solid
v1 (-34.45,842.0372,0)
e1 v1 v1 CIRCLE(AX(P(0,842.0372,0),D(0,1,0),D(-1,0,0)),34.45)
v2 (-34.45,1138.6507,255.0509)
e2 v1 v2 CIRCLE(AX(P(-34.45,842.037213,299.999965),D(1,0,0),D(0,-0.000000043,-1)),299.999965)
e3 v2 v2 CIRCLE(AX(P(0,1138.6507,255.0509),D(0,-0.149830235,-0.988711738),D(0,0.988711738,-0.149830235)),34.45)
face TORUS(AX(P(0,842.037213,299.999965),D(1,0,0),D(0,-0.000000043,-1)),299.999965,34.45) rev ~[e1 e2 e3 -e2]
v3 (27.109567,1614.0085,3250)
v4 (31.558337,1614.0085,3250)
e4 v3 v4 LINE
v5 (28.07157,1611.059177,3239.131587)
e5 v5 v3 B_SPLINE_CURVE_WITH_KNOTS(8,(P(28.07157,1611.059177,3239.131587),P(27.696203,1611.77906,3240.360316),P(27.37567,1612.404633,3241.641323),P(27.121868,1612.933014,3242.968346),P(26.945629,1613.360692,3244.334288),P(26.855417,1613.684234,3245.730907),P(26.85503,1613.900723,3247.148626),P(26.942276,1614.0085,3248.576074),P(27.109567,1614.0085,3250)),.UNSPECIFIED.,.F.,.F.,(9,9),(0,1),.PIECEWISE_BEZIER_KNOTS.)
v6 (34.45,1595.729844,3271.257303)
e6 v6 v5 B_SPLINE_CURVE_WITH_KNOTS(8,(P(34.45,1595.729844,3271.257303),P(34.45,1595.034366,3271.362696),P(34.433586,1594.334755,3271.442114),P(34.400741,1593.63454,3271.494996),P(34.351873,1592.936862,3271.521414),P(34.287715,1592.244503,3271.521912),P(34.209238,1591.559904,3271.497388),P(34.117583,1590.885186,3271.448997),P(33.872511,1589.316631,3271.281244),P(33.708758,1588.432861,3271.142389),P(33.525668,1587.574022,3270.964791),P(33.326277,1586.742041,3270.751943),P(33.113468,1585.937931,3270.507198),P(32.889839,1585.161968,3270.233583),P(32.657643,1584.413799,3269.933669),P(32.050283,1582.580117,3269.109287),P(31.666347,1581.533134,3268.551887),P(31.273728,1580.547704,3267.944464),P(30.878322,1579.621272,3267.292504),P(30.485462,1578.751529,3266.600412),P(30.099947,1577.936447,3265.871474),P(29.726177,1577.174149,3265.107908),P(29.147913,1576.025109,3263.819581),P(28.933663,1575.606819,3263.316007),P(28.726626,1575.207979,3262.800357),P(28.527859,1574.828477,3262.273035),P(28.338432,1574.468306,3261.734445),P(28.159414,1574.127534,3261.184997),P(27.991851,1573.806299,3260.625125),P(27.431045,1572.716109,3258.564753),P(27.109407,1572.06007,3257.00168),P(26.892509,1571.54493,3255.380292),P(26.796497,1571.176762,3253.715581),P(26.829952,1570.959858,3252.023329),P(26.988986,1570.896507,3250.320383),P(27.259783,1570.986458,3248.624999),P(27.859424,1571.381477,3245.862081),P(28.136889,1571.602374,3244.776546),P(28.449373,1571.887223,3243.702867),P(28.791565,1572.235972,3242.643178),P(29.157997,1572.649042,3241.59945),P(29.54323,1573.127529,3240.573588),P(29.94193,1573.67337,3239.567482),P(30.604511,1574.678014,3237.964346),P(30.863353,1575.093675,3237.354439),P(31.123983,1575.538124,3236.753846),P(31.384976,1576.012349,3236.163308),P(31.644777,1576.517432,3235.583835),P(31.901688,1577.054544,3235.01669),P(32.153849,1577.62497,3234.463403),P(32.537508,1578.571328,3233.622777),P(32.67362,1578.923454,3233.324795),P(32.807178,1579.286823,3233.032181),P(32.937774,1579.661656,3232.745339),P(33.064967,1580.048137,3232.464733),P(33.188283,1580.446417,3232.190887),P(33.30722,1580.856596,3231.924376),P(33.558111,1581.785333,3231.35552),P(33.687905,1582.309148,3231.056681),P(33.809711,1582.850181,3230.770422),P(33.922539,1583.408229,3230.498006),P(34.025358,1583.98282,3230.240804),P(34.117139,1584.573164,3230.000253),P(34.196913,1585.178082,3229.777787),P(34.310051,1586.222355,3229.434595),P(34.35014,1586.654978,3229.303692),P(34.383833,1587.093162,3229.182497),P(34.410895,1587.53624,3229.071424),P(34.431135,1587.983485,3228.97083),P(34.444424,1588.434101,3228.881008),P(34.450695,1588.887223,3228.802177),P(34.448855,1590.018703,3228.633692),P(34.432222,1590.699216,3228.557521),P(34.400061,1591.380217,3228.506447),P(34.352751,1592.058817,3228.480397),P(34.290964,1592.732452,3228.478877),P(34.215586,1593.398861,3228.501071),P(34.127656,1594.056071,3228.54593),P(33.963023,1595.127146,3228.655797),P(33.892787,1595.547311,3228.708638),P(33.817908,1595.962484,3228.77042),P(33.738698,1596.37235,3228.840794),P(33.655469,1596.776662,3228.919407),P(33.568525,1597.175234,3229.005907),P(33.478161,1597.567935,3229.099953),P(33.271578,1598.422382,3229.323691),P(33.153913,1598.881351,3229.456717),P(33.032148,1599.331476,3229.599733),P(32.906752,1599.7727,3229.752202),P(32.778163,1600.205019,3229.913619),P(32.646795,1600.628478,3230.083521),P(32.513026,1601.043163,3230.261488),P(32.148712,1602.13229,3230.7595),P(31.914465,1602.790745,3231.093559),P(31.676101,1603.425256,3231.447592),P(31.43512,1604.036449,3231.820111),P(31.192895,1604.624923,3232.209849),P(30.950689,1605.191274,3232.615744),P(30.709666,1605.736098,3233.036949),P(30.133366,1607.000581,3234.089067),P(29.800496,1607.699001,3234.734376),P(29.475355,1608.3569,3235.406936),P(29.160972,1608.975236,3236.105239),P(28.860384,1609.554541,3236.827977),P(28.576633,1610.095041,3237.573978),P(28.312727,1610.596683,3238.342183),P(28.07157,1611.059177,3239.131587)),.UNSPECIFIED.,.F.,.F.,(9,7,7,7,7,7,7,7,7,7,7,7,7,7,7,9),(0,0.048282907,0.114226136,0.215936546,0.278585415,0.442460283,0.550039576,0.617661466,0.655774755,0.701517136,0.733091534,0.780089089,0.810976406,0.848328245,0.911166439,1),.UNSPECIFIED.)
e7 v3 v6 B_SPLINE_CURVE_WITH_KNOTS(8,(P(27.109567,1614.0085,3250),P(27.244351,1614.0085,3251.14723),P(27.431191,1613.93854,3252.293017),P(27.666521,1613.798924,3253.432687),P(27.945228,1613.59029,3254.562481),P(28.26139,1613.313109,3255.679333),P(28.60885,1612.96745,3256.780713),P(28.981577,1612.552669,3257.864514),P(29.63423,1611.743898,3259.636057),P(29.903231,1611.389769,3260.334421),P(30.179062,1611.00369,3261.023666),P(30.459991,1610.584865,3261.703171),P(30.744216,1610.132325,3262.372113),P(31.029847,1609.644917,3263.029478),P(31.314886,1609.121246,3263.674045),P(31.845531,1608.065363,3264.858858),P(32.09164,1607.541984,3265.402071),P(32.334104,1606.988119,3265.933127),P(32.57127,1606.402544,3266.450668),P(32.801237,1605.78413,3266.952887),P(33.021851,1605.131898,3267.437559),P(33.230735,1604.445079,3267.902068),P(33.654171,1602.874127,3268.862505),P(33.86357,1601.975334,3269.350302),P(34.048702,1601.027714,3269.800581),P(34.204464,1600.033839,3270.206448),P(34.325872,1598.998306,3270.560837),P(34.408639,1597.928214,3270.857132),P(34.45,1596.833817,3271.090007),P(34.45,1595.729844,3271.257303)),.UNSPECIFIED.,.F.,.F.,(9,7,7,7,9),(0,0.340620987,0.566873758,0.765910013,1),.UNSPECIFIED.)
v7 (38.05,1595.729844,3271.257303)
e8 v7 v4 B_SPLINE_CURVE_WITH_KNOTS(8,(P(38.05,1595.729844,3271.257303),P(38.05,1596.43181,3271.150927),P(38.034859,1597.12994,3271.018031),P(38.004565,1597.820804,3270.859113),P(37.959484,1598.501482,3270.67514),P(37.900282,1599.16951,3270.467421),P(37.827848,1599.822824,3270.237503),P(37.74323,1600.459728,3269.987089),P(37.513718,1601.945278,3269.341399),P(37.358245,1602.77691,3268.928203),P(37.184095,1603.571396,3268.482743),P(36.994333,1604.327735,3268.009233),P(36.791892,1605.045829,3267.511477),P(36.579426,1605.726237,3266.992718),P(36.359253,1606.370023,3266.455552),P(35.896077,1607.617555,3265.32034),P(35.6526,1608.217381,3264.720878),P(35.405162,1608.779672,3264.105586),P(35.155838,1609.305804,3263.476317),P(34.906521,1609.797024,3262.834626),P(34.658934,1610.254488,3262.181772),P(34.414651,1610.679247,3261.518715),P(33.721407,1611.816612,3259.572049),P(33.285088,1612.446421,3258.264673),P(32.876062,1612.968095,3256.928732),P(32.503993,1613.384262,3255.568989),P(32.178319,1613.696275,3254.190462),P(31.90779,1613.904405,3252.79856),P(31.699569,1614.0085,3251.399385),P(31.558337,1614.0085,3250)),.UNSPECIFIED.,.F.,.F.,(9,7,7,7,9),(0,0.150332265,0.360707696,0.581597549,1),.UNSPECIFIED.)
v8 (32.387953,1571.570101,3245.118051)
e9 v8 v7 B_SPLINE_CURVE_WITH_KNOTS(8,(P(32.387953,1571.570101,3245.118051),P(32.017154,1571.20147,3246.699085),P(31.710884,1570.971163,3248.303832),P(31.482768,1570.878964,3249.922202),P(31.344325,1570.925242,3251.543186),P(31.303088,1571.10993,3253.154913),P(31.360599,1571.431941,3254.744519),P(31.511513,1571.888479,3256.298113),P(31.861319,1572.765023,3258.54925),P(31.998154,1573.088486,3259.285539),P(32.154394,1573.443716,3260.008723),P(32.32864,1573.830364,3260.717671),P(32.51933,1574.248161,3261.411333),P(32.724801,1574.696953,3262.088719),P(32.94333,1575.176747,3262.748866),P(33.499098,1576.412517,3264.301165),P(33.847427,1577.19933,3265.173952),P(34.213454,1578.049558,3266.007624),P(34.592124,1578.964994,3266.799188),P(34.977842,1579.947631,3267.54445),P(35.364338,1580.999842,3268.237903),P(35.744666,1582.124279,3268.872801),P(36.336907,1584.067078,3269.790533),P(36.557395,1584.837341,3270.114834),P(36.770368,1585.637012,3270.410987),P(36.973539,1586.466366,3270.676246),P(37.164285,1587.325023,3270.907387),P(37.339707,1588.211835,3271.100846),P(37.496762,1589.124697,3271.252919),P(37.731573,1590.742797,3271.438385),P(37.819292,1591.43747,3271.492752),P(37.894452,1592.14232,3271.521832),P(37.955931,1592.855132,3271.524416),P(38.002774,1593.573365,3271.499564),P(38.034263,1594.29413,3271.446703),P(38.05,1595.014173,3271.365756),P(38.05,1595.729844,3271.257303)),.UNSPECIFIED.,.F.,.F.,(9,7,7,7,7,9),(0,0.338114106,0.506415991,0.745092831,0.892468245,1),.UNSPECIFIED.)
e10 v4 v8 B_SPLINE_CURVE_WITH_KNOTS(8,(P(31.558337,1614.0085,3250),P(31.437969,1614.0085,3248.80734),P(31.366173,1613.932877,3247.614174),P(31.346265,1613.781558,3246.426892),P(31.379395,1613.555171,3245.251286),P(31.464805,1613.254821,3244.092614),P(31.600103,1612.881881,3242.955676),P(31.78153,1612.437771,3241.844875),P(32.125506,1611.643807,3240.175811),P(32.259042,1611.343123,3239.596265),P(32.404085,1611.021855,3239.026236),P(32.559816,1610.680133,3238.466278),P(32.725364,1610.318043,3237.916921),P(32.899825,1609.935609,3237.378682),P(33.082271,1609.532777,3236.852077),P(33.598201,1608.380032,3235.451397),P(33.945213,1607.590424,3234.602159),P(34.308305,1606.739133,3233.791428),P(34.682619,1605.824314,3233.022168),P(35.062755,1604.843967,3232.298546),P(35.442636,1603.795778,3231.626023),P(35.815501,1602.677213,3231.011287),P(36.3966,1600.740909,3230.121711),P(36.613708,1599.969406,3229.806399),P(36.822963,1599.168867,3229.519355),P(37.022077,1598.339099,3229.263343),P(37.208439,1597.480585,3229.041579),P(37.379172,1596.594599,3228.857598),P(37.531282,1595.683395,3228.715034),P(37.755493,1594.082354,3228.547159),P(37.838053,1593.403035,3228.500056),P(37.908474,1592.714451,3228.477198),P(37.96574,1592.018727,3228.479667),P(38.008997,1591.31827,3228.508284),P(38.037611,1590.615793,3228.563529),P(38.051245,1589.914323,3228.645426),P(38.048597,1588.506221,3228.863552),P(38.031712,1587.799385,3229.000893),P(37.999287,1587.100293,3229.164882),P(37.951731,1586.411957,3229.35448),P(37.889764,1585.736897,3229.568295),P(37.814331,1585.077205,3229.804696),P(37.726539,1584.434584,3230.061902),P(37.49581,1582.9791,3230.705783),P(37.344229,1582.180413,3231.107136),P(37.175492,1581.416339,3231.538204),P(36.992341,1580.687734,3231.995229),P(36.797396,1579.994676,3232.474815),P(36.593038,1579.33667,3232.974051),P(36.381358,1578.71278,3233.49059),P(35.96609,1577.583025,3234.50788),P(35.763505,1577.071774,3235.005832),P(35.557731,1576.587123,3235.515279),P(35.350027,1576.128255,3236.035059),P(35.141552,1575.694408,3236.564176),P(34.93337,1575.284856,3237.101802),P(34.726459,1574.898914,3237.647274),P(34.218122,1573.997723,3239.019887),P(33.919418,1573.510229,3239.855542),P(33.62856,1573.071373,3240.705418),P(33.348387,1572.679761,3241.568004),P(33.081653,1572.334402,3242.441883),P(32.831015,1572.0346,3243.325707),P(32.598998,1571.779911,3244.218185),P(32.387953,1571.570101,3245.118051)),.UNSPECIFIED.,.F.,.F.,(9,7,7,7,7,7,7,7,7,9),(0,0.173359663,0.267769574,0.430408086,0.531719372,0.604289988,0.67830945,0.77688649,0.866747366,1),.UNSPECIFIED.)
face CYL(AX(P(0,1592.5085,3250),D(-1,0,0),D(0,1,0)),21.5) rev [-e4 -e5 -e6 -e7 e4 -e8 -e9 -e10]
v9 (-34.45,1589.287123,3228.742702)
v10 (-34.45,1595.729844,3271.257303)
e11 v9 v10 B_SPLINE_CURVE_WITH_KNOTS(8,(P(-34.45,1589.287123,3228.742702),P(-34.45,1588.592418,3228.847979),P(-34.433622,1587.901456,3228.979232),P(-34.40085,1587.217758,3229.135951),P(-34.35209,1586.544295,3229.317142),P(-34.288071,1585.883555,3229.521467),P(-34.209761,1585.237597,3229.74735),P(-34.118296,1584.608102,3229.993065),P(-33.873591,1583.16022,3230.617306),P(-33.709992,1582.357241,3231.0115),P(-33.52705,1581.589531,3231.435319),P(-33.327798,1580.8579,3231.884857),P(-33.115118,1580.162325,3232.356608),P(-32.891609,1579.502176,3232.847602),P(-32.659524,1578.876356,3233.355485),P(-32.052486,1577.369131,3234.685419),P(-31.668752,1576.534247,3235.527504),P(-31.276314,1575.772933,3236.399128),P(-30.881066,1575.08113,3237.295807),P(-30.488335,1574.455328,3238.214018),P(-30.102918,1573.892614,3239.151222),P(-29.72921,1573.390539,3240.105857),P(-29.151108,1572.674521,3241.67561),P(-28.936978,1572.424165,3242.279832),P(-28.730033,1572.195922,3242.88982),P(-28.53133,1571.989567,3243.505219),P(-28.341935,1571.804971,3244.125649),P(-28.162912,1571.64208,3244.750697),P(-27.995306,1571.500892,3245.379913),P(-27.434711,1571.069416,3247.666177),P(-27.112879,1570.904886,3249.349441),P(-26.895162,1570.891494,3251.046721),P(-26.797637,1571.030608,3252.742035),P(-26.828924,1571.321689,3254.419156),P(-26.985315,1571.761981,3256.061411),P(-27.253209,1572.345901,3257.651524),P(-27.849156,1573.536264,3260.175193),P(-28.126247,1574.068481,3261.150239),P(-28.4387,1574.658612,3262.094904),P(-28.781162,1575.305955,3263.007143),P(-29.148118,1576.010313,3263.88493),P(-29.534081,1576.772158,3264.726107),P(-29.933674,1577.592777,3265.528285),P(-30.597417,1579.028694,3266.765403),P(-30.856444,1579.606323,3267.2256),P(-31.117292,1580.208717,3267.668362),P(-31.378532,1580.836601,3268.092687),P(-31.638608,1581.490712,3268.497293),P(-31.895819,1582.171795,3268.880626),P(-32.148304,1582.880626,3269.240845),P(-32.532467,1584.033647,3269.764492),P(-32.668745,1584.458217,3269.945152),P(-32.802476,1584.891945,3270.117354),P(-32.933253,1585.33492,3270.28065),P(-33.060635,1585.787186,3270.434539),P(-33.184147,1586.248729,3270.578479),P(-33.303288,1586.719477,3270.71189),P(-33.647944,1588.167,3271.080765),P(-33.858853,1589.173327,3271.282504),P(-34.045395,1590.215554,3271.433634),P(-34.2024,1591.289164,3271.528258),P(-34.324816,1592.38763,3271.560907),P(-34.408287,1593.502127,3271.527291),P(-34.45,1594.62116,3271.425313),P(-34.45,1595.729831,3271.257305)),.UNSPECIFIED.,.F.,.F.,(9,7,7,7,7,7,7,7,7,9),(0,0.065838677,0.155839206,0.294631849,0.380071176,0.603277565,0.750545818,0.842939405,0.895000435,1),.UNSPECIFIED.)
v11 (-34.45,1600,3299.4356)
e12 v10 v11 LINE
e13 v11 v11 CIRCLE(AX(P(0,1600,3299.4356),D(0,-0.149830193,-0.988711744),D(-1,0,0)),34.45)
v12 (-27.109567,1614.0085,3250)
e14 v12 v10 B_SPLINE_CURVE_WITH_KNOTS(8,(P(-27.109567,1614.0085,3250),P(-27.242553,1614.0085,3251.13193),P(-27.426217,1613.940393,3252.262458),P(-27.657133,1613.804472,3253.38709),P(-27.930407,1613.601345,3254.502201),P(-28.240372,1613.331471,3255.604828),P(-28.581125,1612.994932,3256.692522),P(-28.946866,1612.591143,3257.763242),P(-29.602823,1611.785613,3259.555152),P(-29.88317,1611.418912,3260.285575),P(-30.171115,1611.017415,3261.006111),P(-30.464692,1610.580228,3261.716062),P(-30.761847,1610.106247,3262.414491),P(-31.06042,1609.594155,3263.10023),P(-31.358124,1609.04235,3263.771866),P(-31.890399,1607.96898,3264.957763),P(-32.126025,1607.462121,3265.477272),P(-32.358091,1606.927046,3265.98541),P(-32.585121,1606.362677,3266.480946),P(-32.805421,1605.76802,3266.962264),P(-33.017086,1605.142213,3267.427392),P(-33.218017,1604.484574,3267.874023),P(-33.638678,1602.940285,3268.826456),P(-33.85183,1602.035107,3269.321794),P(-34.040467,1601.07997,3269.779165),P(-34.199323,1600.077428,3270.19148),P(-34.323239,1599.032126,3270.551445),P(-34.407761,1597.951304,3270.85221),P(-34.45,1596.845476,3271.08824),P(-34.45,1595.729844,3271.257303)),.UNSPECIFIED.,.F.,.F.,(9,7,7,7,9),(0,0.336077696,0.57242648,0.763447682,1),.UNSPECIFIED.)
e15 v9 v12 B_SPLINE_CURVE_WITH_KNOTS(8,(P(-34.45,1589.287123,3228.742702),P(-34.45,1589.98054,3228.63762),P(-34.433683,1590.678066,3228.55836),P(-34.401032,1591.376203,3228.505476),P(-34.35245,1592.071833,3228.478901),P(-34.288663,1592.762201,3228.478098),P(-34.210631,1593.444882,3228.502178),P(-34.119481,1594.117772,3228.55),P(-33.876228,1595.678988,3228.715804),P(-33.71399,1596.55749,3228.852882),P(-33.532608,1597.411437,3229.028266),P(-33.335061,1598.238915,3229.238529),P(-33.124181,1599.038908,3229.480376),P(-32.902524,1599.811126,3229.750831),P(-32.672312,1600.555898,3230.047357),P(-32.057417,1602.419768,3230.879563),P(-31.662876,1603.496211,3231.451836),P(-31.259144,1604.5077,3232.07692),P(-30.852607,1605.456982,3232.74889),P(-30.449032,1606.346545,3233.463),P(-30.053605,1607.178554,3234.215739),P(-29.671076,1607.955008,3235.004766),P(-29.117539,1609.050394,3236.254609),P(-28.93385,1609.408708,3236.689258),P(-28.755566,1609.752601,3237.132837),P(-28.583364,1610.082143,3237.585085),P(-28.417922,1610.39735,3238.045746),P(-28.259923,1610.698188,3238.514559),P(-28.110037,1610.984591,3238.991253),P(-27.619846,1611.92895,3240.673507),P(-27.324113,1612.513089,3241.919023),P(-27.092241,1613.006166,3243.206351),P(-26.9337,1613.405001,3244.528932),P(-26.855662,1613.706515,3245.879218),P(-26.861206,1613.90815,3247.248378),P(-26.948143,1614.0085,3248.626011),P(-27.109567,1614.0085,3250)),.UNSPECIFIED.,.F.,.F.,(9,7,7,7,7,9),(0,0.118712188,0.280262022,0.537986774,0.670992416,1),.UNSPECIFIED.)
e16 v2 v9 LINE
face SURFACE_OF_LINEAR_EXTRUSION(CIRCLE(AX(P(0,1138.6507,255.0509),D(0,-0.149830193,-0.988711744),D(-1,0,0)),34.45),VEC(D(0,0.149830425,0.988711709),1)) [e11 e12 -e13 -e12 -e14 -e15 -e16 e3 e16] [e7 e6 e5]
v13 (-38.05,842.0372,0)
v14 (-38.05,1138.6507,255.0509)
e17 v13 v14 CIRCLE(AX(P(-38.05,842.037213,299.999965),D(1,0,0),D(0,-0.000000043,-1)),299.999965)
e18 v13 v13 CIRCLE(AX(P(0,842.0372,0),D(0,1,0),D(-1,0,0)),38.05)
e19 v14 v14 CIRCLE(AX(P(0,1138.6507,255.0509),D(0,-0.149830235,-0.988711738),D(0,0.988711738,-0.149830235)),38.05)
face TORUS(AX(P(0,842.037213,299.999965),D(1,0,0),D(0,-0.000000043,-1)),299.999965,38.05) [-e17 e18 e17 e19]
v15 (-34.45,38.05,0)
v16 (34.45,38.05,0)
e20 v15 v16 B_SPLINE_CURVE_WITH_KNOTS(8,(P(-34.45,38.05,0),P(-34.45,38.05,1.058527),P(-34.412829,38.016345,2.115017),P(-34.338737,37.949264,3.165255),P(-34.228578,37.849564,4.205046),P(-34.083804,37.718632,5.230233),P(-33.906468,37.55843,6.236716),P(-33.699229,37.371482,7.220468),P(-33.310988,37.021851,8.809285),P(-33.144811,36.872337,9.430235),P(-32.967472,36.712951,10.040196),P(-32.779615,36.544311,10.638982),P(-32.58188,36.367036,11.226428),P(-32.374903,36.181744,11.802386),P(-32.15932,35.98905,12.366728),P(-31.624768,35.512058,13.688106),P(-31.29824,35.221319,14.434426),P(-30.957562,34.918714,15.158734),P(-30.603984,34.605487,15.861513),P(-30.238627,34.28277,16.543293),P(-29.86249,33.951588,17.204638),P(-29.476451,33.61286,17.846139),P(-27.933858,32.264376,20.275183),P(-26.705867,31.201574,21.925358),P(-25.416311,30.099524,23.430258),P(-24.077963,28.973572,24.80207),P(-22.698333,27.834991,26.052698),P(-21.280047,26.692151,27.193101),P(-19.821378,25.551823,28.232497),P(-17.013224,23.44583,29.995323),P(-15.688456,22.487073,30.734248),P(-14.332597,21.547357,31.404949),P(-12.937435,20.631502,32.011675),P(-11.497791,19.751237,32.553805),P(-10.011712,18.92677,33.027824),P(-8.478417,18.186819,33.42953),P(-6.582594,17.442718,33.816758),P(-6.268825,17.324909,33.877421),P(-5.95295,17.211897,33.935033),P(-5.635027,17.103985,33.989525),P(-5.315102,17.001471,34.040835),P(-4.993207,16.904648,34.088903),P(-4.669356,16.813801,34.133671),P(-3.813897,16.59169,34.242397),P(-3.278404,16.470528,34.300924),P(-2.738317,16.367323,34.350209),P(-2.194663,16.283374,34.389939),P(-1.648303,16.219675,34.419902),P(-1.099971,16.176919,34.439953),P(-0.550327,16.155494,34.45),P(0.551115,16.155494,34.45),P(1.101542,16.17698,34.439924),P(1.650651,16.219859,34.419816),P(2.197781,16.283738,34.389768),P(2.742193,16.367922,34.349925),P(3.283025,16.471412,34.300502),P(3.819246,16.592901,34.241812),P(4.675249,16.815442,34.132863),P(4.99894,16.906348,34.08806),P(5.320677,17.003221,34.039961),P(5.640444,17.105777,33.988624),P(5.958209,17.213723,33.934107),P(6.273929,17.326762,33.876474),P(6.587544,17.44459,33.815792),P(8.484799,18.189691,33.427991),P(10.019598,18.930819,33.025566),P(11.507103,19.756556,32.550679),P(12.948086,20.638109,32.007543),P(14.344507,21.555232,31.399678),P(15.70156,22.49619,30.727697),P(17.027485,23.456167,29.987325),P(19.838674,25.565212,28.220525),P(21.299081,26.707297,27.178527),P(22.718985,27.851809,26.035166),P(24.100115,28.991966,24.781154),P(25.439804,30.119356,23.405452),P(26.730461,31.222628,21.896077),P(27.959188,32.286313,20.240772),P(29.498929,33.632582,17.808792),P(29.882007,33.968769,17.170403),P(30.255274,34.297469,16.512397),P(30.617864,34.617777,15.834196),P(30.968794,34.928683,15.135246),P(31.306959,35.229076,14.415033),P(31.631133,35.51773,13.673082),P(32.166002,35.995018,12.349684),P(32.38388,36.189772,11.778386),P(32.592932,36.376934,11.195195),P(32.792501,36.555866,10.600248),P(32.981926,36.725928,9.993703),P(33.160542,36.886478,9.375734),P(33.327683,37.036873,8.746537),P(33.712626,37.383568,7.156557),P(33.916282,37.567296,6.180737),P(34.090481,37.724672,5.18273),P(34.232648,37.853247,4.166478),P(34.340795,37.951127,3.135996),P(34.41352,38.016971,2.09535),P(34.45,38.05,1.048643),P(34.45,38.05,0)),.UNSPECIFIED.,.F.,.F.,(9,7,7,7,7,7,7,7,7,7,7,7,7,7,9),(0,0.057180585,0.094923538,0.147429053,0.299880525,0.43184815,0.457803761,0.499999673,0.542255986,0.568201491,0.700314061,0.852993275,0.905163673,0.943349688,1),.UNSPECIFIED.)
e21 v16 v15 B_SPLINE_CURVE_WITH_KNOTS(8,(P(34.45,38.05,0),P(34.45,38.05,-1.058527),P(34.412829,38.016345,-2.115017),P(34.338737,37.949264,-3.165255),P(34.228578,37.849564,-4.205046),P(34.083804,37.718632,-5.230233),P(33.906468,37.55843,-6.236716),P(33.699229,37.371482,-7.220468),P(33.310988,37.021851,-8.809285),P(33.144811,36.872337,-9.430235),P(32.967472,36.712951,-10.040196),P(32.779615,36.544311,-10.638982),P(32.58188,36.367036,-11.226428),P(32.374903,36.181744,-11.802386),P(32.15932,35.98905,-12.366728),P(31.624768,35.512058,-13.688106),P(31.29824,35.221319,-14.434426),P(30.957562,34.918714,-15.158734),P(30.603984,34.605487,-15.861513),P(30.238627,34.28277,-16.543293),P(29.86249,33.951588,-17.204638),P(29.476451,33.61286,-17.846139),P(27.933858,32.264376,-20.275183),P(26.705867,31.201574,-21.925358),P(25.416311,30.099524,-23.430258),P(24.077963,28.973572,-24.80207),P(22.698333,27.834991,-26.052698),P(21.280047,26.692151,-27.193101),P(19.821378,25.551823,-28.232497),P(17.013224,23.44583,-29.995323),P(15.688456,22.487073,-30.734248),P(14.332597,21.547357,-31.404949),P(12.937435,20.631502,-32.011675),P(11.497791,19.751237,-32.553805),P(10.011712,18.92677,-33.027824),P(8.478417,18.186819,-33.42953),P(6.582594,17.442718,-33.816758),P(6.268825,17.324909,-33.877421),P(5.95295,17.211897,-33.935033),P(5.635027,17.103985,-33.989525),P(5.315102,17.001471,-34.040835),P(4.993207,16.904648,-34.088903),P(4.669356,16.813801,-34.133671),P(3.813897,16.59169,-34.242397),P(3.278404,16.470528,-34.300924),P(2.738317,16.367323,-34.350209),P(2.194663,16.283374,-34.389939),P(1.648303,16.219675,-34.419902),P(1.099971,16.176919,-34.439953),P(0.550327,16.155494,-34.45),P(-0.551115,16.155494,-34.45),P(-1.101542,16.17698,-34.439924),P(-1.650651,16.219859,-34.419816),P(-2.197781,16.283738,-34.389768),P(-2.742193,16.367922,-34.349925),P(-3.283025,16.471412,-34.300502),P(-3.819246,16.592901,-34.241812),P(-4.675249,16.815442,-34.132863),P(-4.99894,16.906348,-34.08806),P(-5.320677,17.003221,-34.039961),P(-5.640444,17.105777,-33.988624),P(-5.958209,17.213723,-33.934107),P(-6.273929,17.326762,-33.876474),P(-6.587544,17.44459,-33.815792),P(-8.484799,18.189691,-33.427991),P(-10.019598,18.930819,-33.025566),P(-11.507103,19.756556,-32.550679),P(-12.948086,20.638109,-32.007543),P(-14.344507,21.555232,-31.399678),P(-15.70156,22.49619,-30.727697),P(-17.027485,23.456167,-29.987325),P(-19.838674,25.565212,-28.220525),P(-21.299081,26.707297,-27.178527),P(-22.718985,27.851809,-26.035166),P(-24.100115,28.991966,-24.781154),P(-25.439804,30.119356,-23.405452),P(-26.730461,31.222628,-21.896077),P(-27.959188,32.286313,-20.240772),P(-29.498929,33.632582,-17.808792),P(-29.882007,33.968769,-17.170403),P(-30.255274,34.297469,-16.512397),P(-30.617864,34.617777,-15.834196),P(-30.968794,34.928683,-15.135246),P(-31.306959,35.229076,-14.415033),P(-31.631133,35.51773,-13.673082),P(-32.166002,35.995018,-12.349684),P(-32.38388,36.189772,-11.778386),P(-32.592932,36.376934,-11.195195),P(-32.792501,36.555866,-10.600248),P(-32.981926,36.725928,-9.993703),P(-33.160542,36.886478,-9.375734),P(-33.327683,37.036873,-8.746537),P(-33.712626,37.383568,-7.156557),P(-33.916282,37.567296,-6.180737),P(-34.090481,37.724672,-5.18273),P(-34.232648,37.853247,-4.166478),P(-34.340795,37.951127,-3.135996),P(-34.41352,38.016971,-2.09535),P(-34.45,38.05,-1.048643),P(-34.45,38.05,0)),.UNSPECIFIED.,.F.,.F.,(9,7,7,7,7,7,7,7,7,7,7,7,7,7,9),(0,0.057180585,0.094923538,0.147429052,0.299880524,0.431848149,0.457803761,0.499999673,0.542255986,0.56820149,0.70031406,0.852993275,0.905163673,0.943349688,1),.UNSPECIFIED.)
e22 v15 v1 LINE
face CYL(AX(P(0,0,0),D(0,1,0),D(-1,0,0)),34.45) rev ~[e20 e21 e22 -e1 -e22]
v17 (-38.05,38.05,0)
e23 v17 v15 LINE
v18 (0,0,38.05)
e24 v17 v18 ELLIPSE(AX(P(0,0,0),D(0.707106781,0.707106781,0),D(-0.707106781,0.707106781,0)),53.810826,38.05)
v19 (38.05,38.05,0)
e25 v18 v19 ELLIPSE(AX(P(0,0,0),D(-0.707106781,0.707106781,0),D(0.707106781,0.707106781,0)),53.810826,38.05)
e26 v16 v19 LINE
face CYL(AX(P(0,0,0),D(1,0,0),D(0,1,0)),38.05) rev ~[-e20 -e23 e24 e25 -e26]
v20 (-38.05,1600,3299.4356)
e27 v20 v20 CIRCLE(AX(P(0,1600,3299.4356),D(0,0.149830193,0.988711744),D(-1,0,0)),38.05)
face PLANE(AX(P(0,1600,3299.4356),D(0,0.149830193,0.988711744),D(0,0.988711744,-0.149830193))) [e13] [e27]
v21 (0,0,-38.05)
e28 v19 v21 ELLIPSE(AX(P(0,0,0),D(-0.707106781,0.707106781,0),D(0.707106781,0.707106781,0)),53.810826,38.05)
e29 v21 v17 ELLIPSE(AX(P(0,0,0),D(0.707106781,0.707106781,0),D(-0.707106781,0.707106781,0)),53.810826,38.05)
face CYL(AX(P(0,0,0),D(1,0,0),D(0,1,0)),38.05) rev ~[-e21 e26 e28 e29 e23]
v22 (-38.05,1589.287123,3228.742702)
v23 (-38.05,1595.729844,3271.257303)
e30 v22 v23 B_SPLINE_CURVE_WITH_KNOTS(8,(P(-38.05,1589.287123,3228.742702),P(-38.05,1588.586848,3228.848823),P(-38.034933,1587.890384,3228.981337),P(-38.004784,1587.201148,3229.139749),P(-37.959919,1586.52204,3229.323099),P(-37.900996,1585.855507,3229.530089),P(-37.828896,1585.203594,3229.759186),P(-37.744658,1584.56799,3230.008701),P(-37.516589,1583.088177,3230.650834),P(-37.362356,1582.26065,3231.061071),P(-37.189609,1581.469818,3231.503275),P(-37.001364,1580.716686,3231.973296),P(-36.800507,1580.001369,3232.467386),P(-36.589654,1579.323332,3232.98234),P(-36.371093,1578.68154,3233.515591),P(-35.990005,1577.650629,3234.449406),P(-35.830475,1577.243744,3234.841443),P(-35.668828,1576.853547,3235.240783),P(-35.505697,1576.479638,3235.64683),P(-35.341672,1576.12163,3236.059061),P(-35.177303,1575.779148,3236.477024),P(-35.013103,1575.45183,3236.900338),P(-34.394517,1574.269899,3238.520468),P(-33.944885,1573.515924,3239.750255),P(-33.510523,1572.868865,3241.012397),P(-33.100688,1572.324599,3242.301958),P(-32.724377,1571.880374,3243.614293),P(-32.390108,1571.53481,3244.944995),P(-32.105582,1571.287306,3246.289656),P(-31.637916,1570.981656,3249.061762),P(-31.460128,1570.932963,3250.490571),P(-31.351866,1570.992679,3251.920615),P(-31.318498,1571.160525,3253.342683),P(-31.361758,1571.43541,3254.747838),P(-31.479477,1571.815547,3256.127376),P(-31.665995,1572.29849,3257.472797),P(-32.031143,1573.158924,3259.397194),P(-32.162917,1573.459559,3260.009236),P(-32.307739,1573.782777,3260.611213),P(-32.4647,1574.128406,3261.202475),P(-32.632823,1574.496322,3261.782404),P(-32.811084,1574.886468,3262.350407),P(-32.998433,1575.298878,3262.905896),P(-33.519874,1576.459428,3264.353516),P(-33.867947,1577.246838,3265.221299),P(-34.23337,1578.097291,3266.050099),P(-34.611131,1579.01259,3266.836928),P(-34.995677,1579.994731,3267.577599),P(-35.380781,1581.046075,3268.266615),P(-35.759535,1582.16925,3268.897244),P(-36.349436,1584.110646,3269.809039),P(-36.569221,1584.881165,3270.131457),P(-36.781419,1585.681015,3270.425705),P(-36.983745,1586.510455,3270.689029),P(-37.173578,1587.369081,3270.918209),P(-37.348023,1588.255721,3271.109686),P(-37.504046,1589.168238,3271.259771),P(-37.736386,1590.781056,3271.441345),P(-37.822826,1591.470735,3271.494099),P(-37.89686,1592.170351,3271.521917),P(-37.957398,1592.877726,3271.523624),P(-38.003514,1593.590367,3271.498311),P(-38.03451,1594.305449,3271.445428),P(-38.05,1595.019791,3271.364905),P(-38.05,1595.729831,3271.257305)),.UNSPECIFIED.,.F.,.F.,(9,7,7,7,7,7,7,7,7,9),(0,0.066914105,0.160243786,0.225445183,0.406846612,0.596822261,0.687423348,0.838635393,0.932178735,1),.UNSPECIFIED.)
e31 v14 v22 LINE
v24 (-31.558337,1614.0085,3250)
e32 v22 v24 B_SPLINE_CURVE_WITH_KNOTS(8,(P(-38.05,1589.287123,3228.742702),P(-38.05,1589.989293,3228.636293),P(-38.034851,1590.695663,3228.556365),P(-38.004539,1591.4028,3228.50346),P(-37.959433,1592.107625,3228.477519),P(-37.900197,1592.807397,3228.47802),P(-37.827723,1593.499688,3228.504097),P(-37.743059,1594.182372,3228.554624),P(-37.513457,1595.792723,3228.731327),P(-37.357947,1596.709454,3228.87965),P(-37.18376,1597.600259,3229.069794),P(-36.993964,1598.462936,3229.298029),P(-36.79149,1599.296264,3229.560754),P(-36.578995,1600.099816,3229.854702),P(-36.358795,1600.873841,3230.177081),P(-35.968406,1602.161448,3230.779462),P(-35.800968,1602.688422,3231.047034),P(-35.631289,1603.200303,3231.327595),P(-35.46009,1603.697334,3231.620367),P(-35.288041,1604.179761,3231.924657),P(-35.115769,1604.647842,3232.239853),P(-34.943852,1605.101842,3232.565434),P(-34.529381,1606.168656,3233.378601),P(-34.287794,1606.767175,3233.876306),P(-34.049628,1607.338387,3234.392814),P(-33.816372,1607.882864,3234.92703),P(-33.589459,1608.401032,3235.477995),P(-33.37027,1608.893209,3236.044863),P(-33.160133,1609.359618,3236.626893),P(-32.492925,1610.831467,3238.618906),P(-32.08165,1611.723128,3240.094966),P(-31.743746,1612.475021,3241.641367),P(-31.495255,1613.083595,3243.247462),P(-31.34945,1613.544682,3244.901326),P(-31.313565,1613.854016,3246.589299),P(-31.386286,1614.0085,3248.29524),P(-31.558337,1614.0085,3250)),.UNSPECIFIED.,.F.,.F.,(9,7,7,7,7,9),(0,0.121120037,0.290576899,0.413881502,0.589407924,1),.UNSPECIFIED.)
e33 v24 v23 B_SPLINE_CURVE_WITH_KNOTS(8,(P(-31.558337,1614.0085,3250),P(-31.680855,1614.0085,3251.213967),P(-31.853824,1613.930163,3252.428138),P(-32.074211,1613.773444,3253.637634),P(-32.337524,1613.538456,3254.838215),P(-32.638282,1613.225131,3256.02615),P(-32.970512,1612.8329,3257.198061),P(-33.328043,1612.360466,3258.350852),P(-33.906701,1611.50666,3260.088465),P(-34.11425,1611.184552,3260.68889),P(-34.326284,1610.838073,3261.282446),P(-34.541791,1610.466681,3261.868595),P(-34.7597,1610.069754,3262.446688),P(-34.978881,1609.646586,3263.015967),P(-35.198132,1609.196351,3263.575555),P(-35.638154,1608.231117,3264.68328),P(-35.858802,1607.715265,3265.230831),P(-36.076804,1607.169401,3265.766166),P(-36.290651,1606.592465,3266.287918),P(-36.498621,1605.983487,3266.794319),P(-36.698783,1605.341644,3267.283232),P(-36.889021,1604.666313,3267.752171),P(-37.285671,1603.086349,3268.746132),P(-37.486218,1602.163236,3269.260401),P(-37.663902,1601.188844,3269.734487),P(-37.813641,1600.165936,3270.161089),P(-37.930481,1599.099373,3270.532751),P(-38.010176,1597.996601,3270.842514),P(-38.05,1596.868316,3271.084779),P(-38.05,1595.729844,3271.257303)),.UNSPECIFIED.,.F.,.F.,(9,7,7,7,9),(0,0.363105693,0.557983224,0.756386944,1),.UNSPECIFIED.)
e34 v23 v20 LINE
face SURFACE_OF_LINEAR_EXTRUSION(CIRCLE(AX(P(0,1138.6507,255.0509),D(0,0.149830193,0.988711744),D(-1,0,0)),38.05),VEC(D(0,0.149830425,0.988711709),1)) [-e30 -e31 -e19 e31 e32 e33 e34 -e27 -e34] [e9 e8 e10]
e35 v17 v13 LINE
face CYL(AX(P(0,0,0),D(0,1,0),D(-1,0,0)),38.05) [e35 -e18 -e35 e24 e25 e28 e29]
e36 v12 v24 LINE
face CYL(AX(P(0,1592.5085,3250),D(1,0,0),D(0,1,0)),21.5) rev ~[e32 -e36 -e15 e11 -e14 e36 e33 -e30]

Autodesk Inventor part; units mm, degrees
ref_plane "YZ Plane" through (0, 0, 0) normal (1, 0, 0) x (0, 1, 0)
ref_plane "XY Plane" through (0, 0, 0) normal (0, 0, 1) x (1, 0, 0)
sketch "Skizze2" plane through (0, 0, 0) normal (1, 0, 0) x (0, 1, 0)
  line L0 (0, 0) -> (842.0372, 0)
  arc A0 (842.0372, 0) -> (1138.6507, 255.0509) centre (842.0372, 300) ccw
  line L1 (1138.6507, 255.0509) -> (1600, 3299.4356)
  line L2 (1138.6507, 255.0509) -> (1100, 0)
  line L3 (842.0372, 0) -> (1100, 0)
  point P0 (1592.5085, 3250)
  dimension "d6" = 300
  dimension "d7" = 1600
  dimension "d18" = 1100
  dimension "d37" = 98.617
  dimension "d38" = 50
  dimension "d41" = 3337.1058
  dimension "d42" = 3250
sketch "Skizze3" plane through (0, 0, 0) normal (0, 1, 0) x (-1, 0, 0)
  circle A0 centre (0, 0) radius 38.05
  circle A1 centre (0, 0) radius 34.45
  dimension "d12" = 76.1
  dimension "d13" = 3.6
sweep "Sweeping1" add profiles "Skizze3" path "Skizze2" path curves L0 A0 L1
sketch "Skizze5" plane through (0, 0, 0) normal (1, 0, 0) x (0, 1, 0)
  line L0 (0, -38.05) -> (0, 38.05) projected
  circle A0 centre (0, 0) radius 38.05
extrude "Extrusion3" cut sketch "Skizze5" along normal mid plane 76.1
sketch "Skizze6" plane through (0, 0, 0) normal (1, 0, 0) x (0, 1, 0)
  line L0 (1637.6205, 3293.7345) -> (1562.3795, 3305.1366) projected
  line L1 (1600, 3299.4356) -> (1592.5085, 3250)
  circle A0 centre (1592.5085, 3250) radius 21.5
  point P0 (0, 0)
  dimension "d19" = 43
  dimension "d21" = 50
extrude "Extrusion4" cut sketch "Skizze6" along normal through all both and the other way through all
ref_plane "Arbeitsebene1" through (0, 1715, 0) normal (0, 1, 0) x (-1, 0, 0)
properties part number "Hebel" material "Stahl ASTM A36"
